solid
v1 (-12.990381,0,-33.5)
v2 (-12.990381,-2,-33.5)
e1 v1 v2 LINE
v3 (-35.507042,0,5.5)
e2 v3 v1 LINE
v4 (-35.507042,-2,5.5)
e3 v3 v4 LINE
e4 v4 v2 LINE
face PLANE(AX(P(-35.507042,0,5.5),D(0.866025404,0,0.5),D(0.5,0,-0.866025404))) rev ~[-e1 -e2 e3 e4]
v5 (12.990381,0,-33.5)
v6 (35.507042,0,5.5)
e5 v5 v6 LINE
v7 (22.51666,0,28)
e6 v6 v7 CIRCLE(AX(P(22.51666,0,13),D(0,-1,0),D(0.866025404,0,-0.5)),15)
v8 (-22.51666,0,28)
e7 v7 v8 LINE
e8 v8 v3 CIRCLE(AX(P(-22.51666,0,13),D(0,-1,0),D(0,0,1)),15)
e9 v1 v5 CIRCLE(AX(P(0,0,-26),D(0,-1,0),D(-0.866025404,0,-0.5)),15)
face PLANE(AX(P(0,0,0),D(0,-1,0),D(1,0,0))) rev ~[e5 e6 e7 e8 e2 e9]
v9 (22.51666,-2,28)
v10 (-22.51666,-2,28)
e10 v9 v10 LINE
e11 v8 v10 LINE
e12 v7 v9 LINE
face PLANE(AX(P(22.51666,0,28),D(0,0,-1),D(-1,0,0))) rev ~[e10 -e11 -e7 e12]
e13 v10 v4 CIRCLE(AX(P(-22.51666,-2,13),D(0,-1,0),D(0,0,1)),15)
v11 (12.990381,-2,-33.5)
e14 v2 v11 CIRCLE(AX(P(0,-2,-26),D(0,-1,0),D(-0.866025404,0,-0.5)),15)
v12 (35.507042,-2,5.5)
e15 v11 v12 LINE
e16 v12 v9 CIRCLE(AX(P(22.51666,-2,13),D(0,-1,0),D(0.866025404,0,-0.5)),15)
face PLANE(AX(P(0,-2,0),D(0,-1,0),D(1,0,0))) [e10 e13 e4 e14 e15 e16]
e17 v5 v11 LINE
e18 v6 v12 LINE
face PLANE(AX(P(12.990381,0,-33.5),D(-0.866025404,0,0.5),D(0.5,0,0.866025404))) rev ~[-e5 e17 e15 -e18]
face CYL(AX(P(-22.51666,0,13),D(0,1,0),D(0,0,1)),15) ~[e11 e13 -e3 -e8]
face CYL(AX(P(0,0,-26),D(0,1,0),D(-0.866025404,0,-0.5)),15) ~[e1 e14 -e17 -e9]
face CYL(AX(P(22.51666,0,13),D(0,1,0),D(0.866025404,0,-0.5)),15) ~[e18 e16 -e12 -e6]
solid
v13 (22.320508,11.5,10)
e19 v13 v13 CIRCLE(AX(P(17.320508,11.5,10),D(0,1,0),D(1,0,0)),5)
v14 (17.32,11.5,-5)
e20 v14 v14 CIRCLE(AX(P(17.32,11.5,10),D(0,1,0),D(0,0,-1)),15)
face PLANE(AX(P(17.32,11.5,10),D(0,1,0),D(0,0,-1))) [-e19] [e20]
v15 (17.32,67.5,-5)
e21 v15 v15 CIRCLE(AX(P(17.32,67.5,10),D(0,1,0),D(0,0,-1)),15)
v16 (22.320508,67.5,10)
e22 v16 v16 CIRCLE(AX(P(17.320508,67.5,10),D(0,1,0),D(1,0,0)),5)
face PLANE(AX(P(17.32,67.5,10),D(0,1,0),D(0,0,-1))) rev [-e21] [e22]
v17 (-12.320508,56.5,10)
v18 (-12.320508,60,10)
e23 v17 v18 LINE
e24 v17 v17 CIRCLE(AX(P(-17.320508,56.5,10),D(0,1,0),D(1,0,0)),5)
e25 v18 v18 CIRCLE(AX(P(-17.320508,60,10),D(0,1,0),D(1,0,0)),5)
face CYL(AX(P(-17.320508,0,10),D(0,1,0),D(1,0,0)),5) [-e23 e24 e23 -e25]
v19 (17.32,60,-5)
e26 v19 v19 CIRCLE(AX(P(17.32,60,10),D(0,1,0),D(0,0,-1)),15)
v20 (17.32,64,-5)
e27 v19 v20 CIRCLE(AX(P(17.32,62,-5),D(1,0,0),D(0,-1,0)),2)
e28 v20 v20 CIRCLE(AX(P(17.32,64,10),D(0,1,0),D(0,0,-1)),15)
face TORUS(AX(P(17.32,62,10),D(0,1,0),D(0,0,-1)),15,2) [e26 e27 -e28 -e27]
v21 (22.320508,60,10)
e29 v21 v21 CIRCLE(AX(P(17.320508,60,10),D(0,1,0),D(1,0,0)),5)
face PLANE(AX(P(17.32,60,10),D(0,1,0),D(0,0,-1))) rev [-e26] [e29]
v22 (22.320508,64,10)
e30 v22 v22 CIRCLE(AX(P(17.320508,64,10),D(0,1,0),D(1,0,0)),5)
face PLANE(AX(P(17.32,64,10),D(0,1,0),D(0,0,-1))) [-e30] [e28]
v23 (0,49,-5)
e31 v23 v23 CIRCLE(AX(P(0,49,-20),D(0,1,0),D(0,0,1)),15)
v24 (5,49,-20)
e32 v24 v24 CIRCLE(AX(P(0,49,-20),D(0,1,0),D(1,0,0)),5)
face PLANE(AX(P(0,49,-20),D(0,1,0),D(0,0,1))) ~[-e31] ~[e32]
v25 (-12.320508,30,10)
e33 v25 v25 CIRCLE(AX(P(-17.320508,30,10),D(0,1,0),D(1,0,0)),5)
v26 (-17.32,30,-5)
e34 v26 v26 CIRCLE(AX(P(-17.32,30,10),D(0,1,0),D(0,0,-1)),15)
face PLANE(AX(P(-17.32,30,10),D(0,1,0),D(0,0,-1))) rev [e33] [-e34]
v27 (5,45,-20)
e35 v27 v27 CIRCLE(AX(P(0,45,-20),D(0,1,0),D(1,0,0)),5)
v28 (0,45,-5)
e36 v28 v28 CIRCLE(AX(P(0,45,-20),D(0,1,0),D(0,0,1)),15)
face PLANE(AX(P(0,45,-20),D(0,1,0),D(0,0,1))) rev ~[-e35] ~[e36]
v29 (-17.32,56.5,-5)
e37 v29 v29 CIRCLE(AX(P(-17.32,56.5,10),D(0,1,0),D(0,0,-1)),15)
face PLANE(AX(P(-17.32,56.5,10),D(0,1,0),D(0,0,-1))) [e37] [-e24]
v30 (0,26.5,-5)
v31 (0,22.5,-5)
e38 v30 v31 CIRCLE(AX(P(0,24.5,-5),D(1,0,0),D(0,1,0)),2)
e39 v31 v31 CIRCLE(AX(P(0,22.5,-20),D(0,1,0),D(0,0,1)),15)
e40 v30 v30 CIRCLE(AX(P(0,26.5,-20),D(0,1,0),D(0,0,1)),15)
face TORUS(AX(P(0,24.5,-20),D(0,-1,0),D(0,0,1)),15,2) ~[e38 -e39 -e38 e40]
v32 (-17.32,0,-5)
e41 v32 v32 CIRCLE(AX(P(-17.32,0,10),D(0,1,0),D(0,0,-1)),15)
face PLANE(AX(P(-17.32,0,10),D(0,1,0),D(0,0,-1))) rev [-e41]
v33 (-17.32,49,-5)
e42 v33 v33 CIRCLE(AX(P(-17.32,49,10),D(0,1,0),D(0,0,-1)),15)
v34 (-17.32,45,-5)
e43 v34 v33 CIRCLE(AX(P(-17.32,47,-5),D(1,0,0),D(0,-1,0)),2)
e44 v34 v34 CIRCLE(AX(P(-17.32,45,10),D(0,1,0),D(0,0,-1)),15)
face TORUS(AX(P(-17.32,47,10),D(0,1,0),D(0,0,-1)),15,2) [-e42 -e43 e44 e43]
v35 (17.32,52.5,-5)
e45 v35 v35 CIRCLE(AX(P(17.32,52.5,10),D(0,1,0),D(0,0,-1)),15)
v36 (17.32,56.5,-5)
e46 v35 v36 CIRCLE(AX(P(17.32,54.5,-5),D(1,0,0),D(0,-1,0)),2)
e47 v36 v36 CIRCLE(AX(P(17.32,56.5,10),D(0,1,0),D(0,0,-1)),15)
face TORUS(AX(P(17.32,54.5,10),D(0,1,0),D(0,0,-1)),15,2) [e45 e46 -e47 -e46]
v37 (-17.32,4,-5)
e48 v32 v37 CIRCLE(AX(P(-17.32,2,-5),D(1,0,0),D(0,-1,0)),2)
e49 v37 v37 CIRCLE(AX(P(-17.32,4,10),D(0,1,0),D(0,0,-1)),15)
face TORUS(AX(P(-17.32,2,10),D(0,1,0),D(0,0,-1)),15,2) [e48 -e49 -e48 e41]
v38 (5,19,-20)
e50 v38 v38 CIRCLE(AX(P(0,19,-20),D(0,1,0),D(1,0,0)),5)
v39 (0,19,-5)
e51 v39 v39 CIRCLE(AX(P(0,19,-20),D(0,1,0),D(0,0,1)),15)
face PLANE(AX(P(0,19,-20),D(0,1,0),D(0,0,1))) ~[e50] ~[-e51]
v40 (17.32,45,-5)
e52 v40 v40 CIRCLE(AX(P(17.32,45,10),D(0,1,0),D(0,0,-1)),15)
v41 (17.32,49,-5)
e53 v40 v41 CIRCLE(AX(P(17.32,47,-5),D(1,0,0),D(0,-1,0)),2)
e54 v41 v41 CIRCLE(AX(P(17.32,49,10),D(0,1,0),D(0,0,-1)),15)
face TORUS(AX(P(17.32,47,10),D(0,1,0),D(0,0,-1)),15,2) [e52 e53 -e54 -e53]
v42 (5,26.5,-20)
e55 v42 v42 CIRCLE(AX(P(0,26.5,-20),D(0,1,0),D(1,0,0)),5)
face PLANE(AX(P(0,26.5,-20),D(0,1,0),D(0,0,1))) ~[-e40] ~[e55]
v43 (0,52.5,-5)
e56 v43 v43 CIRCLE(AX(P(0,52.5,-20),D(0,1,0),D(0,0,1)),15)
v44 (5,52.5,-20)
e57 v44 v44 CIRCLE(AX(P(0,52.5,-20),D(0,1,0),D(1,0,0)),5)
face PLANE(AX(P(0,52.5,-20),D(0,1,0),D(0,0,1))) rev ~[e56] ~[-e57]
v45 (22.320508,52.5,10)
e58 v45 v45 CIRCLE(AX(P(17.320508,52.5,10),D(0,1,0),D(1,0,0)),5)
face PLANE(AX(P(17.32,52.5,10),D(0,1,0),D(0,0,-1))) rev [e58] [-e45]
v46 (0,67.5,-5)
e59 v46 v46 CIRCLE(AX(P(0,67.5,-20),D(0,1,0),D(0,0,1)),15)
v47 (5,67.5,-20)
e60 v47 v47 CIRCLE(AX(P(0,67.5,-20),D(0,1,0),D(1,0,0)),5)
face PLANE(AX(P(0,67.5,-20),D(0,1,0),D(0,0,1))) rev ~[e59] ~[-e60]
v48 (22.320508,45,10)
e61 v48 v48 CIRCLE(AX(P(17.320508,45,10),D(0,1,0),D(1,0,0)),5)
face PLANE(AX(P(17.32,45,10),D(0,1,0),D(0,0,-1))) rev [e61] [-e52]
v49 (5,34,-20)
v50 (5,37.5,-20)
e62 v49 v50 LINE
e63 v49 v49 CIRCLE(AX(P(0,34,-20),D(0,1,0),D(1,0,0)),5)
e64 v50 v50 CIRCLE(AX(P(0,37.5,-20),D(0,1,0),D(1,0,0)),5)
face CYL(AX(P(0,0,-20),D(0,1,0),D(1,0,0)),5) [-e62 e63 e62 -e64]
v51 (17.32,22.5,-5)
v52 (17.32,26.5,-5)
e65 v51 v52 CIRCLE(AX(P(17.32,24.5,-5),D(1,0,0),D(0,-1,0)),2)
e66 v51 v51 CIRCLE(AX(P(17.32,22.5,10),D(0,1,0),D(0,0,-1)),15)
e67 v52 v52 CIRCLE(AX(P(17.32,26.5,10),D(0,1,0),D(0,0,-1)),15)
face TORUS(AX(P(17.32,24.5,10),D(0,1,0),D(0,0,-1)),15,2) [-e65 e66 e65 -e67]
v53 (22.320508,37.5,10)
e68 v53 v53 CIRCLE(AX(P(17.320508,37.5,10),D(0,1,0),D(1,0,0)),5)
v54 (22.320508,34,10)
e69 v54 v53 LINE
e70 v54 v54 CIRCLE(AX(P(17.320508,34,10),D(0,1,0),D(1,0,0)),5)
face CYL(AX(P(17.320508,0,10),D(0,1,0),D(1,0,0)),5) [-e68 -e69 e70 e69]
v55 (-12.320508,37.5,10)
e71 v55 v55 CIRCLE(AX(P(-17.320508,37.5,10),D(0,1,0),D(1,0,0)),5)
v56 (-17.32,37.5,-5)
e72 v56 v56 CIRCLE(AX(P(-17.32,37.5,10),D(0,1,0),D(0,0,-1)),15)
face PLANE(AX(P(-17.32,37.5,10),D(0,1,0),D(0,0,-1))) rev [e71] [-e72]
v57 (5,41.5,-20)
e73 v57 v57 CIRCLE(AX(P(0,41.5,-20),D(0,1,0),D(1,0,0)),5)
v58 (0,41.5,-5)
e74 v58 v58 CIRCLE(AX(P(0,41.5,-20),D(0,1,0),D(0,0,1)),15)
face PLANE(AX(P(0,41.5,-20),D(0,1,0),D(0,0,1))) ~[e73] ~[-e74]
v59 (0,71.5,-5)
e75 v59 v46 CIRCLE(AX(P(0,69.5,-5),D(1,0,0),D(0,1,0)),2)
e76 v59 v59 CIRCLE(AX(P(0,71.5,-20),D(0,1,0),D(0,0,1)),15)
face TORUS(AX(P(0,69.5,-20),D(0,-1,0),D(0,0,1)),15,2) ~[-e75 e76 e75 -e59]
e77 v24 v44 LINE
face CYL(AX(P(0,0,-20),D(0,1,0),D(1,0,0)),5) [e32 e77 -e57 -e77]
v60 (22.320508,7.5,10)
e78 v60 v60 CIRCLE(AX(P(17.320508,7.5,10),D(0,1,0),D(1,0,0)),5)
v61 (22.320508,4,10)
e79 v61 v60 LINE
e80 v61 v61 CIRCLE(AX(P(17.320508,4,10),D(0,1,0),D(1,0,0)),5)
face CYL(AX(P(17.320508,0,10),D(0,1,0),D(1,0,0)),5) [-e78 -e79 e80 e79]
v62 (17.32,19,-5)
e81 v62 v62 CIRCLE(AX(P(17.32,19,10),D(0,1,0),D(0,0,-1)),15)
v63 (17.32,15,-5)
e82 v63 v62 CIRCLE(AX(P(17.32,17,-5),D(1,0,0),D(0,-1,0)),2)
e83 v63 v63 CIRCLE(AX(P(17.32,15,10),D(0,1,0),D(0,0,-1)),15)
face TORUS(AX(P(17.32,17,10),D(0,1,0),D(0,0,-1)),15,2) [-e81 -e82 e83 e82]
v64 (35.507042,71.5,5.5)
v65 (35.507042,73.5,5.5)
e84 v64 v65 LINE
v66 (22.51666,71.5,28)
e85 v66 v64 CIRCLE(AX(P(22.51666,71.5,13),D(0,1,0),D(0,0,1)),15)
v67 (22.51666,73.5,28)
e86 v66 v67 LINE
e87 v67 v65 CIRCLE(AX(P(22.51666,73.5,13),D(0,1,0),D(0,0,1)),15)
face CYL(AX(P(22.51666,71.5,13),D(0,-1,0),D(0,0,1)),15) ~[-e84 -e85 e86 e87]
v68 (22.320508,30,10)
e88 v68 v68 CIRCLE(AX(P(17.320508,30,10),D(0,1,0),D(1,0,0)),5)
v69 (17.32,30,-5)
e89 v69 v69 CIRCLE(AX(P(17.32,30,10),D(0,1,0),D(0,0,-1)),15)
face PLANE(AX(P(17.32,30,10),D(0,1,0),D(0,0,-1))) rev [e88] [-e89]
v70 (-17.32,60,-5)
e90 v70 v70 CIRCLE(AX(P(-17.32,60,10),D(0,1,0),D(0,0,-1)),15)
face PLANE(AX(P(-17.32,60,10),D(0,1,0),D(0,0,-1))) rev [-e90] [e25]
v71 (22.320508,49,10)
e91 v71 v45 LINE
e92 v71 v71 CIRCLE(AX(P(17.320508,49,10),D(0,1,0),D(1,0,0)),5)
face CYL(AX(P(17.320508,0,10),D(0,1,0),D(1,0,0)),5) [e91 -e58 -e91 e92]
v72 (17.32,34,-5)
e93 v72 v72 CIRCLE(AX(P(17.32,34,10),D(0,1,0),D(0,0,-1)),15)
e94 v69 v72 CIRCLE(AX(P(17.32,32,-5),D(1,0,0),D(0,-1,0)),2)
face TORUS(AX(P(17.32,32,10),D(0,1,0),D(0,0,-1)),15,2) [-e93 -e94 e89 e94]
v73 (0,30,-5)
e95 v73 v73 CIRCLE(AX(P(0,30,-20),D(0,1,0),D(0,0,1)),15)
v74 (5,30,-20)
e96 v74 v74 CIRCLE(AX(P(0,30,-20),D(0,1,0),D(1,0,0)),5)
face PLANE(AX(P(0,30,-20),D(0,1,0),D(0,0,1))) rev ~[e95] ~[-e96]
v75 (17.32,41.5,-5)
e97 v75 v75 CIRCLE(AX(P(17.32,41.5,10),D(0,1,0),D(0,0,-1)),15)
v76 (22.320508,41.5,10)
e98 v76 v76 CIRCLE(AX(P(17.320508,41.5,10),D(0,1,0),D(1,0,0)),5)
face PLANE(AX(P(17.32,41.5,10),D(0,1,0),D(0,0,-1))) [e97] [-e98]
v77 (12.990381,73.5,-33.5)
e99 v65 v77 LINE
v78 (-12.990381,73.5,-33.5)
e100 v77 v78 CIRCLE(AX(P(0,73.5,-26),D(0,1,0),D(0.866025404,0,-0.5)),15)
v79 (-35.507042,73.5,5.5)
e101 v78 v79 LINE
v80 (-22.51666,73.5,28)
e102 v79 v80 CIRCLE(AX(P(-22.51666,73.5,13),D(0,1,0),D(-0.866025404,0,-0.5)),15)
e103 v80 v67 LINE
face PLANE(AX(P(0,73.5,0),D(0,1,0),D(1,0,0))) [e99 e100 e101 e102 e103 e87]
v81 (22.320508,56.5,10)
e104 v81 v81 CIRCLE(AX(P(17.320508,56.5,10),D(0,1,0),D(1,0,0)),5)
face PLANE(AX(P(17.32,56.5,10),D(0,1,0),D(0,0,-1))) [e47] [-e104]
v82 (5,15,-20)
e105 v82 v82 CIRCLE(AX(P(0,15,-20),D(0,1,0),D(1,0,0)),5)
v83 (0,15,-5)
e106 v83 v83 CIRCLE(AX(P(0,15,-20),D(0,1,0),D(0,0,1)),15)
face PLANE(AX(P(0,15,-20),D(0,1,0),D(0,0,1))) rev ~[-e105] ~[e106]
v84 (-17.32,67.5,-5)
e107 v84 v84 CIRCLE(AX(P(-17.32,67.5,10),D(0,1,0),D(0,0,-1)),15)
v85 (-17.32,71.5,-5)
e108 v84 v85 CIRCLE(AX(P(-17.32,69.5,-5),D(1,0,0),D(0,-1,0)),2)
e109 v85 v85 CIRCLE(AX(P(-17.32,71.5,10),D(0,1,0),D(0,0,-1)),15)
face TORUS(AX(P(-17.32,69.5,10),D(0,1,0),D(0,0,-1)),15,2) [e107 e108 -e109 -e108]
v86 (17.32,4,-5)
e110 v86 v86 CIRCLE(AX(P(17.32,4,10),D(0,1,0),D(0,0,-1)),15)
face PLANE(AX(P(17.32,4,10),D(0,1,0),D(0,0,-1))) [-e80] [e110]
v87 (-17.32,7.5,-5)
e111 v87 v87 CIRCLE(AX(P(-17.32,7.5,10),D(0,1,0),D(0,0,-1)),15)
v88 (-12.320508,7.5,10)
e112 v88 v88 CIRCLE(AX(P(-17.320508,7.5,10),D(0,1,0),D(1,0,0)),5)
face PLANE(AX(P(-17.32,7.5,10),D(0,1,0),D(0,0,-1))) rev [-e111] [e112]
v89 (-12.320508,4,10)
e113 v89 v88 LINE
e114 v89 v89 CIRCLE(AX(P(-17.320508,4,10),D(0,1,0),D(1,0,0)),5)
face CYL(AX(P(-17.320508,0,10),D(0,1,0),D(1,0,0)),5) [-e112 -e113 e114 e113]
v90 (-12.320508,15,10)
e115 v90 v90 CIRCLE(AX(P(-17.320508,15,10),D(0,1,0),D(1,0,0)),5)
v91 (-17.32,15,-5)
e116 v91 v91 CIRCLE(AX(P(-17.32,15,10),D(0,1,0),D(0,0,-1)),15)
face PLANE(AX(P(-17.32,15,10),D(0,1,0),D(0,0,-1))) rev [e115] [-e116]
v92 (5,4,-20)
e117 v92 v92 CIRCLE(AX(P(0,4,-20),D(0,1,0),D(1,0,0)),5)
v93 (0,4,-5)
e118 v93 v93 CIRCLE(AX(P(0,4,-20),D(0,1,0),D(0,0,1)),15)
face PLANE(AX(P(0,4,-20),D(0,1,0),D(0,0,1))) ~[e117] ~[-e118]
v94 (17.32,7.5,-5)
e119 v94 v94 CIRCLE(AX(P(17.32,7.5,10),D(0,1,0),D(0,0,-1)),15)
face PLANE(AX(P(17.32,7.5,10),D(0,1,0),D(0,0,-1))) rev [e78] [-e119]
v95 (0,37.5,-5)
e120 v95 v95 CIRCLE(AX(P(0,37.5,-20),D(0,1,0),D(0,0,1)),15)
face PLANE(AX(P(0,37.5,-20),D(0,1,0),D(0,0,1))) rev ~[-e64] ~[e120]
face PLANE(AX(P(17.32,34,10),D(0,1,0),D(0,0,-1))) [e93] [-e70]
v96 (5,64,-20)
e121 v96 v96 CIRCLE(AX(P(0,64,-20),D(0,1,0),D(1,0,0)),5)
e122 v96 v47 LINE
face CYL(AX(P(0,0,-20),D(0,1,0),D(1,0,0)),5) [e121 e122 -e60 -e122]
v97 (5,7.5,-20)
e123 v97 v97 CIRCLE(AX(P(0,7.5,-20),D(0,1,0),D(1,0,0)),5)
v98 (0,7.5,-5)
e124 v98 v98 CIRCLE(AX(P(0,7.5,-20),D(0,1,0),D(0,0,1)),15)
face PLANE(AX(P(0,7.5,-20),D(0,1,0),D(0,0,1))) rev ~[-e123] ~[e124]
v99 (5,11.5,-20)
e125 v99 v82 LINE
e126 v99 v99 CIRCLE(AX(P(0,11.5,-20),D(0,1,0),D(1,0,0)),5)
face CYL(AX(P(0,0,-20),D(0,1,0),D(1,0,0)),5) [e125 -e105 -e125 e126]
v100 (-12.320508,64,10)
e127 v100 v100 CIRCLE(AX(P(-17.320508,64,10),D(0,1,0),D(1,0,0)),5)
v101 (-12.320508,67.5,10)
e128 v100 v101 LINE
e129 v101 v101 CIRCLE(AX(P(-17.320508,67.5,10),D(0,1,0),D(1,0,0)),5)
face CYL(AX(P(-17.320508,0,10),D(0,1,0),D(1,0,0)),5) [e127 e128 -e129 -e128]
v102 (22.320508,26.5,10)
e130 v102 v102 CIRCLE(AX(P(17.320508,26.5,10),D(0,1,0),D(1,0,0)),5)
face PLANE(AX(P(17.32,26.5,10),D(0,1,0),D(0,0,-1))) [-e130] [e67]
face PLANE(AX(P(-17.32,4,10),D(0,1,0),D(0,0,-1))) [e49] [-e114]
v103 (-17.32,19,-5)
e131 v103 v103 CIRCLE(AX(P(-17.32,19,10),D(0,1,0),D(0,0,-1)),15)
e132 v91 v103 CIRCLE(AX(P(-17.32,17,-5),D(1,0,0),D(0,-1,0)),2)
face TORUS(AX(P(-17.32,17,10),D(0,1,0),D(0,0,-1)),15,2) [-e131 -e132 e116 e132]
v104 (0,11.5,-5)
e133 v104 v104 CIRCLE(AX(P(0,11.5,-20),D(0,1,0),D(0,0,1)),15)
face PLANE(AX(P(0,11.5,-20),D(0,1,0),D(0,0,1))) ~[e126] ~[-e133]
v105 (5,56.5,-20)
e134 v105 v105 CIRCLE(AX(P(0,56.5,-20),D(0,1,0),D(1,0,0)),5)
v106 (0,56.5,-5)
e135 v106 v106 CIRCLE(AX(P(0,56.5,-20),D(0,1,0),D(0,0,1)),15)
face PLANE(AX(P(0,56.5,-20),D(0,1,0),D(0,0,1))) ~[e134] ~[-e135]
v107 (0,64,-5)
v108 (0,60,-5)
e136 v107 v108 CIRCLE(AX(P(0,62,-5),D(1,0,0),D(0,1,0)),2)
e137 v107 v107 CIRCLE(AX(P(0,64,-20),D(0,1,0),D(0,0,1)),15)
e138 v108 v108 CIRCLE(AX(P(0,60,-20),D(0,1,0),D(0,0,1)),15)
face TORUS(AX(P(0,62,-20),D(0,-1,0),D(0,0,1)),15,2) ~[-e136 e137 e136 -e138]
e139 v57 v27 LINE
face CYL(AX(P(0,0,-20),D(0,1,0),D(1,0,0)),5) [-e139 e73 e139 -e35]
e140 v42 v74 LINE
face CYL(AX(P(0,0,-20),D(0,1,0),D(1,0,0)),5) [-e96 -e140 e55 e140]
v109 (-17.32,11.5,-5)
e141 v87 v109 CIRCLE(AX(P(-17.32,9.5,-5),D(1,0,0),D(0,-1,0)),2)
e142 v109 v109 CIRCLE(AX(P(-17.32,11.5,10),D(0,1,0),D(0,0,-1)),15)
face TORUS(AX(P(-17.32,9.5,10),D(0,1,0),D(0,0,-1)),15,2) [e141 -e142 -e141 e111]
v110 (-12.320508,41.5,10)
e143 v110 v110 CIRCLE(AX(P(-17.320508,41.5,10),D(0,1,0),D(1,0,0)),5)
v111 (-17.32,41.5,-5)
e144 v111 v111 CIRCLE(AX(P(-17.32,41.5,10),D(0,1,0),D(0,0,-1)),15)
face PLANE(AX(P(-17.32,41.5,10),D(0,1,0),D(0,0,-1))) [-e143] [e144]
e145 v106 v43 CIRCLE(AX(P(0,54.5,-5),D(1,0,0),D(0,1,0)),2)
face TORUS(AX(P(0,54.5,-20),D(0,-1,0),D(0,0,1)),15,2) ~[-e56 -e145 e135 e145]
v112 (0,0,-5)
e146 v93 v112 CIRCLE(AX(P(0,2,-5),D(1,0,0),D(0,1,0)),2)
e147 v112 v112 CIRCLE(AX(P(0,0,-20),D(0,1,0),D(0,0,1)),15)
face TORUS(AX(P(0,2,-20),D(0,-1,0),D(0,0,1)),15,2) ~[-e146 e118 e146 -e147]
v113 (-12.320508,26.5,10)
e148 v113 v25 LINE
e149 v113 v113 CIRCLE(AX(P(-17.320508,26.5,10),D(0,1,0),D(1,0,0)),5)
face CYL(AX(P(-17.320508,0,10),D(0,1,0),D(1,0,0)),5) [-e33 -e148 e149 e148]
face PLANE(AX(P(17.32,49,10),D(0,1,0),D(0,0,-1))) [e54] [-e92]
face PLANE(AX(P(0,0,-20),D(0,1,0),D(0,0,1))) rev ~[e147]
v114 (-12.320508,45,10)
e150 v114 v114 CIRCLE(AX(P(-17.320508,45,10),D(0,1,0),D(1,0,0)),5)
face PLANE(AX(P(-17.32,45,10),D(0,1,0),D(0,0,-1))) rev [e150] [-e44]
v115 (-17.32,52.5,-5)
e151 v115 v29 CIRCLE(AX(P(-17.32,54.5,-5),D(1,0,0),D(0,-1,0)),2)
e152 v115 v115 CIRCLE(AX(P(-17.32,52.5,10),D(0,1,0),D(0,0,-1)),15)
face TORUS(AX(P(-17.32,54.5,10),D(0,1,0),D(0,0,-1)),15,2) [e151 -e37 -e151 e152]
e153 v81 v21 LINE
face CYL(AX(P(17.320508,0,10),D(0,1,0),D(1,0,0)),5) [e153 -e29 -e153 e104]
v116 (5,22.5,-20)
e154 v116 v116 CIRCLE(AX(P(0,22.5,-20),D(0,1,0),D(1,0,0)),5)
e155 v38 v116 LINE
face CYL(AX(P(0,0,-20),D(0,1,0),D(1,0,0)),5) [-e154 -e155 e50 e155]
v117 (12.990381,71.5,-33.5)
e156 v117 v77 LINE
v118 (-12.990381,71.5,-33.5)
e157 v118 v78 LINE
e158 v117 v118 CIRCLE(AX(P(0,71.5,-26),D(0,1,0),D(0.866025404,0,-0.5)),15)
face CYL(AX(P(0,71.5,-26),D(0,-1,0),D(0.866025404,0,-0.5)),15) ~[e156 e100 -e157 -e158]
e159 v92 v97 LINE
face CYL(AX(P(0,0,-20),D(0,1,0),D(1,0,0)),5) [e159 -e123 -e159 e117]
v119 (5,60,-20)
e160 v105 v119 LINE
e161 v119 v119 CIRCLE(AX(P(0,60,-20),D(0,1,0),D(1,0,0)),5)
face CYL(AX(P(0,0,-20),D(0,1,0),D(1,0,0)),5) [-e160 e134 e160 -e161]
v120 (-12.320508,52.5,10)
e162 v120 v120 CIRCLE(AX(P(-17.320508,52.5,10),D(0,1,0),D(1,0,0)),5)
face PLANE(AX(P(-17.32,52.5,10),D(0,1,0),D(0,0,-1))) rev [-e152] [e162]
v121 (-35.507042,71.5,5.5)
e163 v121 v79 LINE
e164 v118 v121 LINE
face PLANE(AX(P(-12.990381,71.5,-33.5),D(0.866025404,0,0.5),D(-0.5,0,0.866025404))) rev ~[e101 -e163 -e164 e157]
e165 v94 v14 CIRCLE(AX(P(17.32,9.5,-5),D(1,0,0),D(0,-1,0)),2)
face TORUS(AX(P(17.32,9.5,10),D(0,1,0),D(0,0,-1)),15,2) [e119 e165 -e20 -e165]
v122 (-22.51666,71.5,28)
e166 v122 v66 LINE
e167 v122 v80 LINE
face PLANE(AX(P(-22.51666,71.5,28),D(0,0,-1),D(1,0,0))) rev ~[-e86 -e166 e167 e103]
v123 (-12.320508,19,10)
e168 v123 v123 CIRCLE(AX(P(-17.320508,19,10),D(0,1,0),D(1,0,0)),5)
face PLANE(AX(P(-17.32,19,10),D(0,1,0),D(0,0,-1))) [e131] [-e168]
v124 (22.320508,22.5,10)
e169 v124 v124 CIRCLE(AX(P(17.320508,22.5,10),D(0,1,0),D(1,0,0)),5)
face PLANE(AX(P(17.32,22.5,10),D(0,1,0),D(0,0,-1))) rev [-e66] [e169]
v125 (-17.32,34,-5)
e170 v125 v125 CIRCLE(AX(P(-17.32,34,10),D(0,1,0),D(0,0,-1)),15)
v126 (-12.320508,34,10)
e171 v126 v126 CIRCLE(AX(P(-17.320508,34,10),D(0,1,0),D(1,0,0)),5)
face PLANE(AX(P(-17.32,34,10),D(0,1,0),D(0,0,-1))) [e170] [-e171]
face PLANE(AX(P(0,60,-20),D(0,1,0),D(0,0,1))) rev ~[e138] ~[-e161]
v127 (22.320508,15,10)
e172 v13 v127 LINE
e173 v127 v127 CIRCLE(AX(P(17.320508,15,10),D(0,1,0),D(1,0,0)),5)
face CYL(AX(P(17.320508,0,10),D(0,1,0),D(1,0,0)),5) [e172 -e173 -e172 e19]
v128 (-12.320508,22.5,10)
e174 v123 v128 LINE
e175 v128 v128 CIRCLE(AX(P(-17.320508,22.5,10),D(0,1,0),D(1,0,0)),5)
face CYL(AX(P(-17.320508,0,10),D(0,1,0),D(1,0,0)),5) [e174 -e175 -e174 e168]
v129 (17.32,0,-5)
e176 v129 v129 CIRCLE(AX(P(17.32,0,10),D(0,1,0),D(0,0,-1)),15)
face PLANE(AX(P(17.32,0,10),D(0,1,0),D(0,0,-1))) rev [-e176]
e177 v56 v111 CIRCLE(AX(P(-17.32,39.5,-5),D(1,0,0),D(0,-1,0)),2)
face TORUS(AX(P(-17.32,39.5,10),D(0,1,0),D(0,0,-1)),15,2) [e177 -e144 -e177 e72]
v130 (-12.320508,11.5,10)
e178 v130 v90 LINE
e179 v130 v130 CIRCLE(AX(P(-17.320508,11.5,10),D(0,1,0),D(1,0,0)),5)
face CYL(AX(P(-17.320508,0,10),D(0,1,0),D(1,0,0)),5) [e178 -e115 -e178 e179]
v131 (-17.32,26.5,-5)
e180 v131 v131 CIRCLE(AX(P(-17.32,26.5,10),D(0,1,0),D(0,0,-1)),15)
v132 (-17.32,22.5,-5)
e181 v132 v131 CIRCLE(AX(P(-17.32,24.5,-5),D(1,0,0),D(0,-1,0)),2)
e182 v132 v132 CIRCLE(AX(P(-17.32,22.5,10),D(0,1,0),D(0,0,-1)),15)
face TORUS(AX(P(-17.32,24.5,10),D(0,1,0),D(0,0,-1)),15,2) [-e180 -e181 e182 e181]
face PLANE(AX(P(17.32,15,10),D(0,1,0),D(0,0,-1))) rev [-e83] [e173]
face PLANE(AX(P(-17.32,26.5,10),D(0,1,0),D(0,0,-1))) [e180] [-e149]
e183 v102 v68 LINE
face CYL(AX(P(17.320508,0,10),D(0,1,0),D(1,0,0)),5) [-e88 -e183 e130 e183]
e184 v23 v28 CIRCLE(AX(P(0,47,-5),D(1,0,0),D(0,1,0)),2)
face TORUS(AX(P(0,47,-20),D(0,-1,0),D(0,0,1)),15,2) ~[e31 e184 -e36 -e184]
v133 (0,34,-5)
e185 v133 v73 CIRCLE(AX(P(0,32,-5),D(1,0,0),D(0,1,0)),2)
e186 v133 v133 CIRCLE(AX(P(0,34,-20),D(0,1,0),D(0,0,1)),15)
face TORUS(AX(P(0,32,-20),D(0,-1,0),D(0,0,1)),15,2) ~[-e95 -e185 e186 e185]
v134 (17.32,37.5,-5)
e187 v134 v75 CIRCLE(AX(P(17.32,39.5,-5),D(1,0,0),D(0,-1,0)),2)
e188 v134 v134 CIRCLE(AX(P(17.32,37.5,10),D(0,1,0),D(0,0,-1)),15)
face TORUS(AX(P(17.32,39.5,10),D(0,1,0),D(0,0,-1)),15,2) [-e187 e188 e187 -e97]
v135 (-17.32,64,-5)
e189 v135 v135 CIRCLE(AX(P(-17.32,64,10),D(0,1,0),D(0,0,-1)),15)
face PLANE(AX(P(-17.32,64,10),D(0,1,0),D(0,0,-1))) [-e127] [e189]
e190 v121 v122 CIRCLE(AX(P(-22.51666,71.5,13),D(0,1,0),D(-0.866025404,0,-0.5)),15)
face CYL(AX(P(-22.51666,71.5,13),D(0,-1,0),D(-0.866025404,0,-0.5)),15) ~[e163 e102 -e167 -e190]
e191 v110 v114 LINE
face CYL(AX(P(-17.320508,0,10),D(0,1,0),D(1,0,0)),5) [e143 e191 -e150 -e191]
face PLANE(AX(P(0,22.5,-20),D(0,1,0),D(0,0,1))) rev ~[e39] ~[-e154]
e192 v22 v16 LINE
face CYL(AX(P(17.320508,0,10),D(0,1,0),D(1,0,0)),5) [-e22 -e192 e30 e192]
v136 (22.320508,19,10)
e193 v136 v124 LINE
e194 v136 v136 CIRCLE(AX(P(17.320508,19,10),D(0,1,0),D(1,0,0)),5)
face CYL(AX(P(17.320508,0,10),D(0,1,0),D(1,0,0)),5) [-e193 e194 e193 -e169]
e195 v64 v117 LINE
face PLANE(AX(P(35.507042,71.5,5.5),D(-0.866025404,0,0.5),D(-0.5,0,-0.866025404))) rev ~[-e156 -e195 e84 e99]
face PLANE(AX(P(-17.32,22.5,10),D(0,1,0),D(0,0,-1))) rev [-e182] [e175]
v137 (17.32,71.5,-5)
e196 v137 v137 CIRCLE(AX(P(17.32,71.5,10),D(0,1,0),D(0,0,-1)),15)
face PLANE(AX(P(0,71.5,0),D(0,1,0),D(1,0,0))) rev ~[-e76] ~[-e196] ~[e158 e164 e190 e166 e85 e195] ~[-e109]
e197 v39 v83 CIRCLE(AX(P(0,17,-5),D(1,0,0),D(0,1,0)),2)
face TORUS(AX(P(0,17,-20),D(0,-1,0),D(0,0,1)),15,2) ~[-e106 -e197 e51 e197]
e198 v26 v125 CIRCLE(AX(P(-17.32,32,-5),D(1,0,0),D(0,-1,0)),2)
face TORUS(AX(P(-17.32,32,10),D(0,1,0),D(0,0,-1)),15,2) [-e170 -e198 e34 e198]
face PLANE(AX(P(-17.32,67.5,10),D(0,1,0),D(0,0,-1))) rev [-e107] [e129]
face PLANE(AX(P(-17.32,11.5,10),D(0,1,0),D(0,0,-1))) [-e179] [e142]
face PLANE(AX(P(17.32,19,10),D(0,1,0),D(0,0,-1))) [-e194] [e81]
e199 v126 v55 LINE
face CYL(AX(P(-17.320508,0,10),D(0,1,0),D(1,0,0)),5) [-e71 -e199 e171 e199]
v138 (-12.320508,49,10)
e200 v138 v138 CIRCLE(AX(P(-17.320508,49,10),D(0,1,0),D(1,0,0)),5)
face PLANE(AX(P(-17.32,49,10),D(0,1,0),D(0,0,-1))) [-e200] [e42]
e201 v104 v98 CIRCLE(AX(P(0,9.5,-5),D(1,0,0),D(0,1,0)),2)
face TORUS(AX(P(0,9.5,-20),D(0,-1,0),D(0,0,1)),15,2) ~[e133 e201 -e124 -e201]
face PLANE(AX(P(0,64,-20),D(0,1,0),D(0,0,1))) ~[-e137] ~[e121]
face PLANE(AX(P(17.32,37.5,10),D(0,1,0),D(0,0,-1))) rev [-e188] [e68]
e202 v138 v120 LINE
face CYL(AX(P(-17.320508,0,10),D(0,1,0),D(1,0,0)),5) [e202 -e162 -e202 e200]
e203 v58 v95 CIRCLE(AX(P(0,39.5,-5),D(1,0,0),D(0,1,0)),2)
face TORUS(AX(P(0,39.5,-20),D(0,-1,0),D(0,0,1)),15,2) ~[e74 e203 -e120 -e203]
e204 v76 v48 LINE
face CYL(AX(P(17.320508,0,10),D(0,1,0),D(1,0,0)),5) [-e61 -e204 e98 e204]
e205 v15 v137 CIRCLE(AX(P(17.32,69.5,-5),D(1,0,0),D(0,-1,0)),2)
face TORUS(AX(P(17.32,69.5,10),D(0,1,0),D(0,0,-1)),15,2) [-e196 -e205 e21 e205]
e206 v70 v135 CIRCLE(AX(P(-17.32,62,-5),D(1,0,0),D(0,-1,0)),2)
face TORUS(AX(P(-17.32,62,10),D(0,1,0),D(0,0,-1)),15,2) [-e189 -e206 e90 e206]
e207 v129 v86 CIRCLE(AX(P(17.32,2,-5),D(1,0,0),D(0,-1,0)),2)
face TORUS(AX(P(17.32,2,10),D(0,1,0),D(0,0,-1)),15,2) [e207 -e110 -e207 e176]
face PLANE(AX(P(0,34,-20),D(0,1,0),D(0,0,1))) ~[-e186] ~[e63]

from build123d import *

# Parameters (mm, degrees)
SKETCH1_R           = 5
BOSS_EXTRUDE2_DEPTH = 2
LPATTERN1_COUNT     = 10
LPATTERN1_PITCH     = 7.5
BOSS_EXTRUDE3_DEPTH = 2


with BuildPart() as part:
    # Sweep1: sweep along a path in Sketch3
    with BuildLine(Plane(origin=(0, 0, 0), x_dir=(0, 0, -1), z_dir=(1, 0, 0))) as sweep1_path:
        Line((0, 0), (0, 70))
    # Sketch1 → Sweep1 (sweep)
    with BuildSketch(Plane(origin=(0, 0, 0), x_dir=(1, 0, 0), z_dir=(0, 1, 0))):
        with Locations((0, 20)):
            Circle(SKETCH1_R)
        with Locations((17.320508076, -10)):
            Circle(SKETCH1_R)
        with Locations((-17.320508076, -10)):
            Circle(SKETCH1_R)
    sweep(path=sweep1_path.line)

    # Sketch4 → Revolve1 (revolve)
    with BuildSketch(Plane(origin=(0, 0, 0), x_dir=(0, 0, -1), z_dir=(1, 0, 0)), mode=Mode.PRIVATE) as revolve1_sk:
        with BuildLine():
            Line((20, 4), (35, 4))
            ThreePointArc((35, 4), (37, 2), (35, 0))
            Line((35, 0), (20, 0))
            Line((20, 0), (20, 4))
        make_face()
    revolve1 = revolve(revolve1_sk.sketch.rotate(Axis((0, 0, -20), (0, 1, 0)), 180), axis=Axis((0, 0, -20), (0, 1, 0)))

    # Sketch7 → Revolve2 (revolve)
    with BuildSketch(Plane(origin=(17.32, 0, 0), x_dir=(0, 0, -1), z_dir=(1, 0, 0))):
        with BuildLine():
            Line((-10, 0), (5, 0))
            ThreePointArc((5, 0), (7, 2), (5, 4))
            Line((5, 4), (-10, 4))
            Line((-10, 4), (-10, 0))
        make_face()
    revolve2 = revolve(axis=Axis((17.32, 0, 10), (0, 1, 0)))

    # Sketch8 → Revolve3 (revolve)
    with BuildSketch(Plane(origin=(-17.32, 0, 0), x_dir=(0, 0, -1), z_dir=(1, 0, 0)), mode=Mode.PRIVATE) as revolve3_sk:
        with BuildLine():
            Line((-10, 0), (-25, 0))
            ThreePointArc((-25, 0), (-27, 2), (-25, 4))
            Line((-25, 4), (-10, 4))
            Line((-10, 4), (-10, 0))
        make_face()
    revolve3 = revolve(revolve3_sk.sketch.rotate(Axis((-17.32, 0, 10), (0, 1, 0)), 180), axis=Axis((-17.32, 0, 10), (0, 1, 0)))

    # LPattern1: Revolve1, Revolve2, Revolve3 ×10
    with Locations(*[(0, i * LPATTERN1_PITCH, 0) for i in range(1, LPATTERN1_COUNT)]):
        add(revolve1)
        add(revolve2)
        add(revolve3)

    # Sketch13 → Boss-Extrude3 (add)
    with BuildSketch(Plane(origin=(0, 71.5, 0), x_dir=(1, 0, 0), z_dir=(0, 1, 0))):
        with BuildLine():
            Line((-12.990381057, 33.5), (-35.507041555, -5.5))
            ThreePointArc((-35.507041555, -5.5), (-35.507041555, -20.5), (-22.516660498, -28))
            Line((-22.516660498, -28), (22.516660498, -28))
            ThreePointArc((22.516660498, -28), (35.507041555, -20.5), (35.507041555, -5.5))
            Line((35.507041555, -5.5), (12.990381057, 33.5))
            ThreePointArc((12.990381057, 33.5), (0, 41), (-12.990381057, 33.5))
        make_face()
    extrude(amount=BOSS_EXTRUDE3_DEPTH)


with BuildPart() as body_2:
    # Sketch12 → Boss-Extrude2 (new body)
    with BuildSketch(Plane.XZ):
        with BuildLine():
            Line((22.516660498, 28), (-22.516660498, 28))
            ThreePointArc((-22.516660498, 28), (-35.507041555, 20.5), (-35.507041555, 5.5))
            Line((-35.507041555, 5.5), (-12.990381057, -33.5))
            ThreePointArc((-12.990381057, -33.5), (0, -41), (12.990381057, -33.5))
            Line((12.990381057, -33.5), (35.507041555, 5.5))
            ThreePointArc((35.507041555, 5.5), (35.507041555, 20.5), (22.516660498, 28))
        make_face()
    extrude(amount=BOSS_EXTRUDE2_DEPTH)


solid = Compound([part.part, body_2.part])
